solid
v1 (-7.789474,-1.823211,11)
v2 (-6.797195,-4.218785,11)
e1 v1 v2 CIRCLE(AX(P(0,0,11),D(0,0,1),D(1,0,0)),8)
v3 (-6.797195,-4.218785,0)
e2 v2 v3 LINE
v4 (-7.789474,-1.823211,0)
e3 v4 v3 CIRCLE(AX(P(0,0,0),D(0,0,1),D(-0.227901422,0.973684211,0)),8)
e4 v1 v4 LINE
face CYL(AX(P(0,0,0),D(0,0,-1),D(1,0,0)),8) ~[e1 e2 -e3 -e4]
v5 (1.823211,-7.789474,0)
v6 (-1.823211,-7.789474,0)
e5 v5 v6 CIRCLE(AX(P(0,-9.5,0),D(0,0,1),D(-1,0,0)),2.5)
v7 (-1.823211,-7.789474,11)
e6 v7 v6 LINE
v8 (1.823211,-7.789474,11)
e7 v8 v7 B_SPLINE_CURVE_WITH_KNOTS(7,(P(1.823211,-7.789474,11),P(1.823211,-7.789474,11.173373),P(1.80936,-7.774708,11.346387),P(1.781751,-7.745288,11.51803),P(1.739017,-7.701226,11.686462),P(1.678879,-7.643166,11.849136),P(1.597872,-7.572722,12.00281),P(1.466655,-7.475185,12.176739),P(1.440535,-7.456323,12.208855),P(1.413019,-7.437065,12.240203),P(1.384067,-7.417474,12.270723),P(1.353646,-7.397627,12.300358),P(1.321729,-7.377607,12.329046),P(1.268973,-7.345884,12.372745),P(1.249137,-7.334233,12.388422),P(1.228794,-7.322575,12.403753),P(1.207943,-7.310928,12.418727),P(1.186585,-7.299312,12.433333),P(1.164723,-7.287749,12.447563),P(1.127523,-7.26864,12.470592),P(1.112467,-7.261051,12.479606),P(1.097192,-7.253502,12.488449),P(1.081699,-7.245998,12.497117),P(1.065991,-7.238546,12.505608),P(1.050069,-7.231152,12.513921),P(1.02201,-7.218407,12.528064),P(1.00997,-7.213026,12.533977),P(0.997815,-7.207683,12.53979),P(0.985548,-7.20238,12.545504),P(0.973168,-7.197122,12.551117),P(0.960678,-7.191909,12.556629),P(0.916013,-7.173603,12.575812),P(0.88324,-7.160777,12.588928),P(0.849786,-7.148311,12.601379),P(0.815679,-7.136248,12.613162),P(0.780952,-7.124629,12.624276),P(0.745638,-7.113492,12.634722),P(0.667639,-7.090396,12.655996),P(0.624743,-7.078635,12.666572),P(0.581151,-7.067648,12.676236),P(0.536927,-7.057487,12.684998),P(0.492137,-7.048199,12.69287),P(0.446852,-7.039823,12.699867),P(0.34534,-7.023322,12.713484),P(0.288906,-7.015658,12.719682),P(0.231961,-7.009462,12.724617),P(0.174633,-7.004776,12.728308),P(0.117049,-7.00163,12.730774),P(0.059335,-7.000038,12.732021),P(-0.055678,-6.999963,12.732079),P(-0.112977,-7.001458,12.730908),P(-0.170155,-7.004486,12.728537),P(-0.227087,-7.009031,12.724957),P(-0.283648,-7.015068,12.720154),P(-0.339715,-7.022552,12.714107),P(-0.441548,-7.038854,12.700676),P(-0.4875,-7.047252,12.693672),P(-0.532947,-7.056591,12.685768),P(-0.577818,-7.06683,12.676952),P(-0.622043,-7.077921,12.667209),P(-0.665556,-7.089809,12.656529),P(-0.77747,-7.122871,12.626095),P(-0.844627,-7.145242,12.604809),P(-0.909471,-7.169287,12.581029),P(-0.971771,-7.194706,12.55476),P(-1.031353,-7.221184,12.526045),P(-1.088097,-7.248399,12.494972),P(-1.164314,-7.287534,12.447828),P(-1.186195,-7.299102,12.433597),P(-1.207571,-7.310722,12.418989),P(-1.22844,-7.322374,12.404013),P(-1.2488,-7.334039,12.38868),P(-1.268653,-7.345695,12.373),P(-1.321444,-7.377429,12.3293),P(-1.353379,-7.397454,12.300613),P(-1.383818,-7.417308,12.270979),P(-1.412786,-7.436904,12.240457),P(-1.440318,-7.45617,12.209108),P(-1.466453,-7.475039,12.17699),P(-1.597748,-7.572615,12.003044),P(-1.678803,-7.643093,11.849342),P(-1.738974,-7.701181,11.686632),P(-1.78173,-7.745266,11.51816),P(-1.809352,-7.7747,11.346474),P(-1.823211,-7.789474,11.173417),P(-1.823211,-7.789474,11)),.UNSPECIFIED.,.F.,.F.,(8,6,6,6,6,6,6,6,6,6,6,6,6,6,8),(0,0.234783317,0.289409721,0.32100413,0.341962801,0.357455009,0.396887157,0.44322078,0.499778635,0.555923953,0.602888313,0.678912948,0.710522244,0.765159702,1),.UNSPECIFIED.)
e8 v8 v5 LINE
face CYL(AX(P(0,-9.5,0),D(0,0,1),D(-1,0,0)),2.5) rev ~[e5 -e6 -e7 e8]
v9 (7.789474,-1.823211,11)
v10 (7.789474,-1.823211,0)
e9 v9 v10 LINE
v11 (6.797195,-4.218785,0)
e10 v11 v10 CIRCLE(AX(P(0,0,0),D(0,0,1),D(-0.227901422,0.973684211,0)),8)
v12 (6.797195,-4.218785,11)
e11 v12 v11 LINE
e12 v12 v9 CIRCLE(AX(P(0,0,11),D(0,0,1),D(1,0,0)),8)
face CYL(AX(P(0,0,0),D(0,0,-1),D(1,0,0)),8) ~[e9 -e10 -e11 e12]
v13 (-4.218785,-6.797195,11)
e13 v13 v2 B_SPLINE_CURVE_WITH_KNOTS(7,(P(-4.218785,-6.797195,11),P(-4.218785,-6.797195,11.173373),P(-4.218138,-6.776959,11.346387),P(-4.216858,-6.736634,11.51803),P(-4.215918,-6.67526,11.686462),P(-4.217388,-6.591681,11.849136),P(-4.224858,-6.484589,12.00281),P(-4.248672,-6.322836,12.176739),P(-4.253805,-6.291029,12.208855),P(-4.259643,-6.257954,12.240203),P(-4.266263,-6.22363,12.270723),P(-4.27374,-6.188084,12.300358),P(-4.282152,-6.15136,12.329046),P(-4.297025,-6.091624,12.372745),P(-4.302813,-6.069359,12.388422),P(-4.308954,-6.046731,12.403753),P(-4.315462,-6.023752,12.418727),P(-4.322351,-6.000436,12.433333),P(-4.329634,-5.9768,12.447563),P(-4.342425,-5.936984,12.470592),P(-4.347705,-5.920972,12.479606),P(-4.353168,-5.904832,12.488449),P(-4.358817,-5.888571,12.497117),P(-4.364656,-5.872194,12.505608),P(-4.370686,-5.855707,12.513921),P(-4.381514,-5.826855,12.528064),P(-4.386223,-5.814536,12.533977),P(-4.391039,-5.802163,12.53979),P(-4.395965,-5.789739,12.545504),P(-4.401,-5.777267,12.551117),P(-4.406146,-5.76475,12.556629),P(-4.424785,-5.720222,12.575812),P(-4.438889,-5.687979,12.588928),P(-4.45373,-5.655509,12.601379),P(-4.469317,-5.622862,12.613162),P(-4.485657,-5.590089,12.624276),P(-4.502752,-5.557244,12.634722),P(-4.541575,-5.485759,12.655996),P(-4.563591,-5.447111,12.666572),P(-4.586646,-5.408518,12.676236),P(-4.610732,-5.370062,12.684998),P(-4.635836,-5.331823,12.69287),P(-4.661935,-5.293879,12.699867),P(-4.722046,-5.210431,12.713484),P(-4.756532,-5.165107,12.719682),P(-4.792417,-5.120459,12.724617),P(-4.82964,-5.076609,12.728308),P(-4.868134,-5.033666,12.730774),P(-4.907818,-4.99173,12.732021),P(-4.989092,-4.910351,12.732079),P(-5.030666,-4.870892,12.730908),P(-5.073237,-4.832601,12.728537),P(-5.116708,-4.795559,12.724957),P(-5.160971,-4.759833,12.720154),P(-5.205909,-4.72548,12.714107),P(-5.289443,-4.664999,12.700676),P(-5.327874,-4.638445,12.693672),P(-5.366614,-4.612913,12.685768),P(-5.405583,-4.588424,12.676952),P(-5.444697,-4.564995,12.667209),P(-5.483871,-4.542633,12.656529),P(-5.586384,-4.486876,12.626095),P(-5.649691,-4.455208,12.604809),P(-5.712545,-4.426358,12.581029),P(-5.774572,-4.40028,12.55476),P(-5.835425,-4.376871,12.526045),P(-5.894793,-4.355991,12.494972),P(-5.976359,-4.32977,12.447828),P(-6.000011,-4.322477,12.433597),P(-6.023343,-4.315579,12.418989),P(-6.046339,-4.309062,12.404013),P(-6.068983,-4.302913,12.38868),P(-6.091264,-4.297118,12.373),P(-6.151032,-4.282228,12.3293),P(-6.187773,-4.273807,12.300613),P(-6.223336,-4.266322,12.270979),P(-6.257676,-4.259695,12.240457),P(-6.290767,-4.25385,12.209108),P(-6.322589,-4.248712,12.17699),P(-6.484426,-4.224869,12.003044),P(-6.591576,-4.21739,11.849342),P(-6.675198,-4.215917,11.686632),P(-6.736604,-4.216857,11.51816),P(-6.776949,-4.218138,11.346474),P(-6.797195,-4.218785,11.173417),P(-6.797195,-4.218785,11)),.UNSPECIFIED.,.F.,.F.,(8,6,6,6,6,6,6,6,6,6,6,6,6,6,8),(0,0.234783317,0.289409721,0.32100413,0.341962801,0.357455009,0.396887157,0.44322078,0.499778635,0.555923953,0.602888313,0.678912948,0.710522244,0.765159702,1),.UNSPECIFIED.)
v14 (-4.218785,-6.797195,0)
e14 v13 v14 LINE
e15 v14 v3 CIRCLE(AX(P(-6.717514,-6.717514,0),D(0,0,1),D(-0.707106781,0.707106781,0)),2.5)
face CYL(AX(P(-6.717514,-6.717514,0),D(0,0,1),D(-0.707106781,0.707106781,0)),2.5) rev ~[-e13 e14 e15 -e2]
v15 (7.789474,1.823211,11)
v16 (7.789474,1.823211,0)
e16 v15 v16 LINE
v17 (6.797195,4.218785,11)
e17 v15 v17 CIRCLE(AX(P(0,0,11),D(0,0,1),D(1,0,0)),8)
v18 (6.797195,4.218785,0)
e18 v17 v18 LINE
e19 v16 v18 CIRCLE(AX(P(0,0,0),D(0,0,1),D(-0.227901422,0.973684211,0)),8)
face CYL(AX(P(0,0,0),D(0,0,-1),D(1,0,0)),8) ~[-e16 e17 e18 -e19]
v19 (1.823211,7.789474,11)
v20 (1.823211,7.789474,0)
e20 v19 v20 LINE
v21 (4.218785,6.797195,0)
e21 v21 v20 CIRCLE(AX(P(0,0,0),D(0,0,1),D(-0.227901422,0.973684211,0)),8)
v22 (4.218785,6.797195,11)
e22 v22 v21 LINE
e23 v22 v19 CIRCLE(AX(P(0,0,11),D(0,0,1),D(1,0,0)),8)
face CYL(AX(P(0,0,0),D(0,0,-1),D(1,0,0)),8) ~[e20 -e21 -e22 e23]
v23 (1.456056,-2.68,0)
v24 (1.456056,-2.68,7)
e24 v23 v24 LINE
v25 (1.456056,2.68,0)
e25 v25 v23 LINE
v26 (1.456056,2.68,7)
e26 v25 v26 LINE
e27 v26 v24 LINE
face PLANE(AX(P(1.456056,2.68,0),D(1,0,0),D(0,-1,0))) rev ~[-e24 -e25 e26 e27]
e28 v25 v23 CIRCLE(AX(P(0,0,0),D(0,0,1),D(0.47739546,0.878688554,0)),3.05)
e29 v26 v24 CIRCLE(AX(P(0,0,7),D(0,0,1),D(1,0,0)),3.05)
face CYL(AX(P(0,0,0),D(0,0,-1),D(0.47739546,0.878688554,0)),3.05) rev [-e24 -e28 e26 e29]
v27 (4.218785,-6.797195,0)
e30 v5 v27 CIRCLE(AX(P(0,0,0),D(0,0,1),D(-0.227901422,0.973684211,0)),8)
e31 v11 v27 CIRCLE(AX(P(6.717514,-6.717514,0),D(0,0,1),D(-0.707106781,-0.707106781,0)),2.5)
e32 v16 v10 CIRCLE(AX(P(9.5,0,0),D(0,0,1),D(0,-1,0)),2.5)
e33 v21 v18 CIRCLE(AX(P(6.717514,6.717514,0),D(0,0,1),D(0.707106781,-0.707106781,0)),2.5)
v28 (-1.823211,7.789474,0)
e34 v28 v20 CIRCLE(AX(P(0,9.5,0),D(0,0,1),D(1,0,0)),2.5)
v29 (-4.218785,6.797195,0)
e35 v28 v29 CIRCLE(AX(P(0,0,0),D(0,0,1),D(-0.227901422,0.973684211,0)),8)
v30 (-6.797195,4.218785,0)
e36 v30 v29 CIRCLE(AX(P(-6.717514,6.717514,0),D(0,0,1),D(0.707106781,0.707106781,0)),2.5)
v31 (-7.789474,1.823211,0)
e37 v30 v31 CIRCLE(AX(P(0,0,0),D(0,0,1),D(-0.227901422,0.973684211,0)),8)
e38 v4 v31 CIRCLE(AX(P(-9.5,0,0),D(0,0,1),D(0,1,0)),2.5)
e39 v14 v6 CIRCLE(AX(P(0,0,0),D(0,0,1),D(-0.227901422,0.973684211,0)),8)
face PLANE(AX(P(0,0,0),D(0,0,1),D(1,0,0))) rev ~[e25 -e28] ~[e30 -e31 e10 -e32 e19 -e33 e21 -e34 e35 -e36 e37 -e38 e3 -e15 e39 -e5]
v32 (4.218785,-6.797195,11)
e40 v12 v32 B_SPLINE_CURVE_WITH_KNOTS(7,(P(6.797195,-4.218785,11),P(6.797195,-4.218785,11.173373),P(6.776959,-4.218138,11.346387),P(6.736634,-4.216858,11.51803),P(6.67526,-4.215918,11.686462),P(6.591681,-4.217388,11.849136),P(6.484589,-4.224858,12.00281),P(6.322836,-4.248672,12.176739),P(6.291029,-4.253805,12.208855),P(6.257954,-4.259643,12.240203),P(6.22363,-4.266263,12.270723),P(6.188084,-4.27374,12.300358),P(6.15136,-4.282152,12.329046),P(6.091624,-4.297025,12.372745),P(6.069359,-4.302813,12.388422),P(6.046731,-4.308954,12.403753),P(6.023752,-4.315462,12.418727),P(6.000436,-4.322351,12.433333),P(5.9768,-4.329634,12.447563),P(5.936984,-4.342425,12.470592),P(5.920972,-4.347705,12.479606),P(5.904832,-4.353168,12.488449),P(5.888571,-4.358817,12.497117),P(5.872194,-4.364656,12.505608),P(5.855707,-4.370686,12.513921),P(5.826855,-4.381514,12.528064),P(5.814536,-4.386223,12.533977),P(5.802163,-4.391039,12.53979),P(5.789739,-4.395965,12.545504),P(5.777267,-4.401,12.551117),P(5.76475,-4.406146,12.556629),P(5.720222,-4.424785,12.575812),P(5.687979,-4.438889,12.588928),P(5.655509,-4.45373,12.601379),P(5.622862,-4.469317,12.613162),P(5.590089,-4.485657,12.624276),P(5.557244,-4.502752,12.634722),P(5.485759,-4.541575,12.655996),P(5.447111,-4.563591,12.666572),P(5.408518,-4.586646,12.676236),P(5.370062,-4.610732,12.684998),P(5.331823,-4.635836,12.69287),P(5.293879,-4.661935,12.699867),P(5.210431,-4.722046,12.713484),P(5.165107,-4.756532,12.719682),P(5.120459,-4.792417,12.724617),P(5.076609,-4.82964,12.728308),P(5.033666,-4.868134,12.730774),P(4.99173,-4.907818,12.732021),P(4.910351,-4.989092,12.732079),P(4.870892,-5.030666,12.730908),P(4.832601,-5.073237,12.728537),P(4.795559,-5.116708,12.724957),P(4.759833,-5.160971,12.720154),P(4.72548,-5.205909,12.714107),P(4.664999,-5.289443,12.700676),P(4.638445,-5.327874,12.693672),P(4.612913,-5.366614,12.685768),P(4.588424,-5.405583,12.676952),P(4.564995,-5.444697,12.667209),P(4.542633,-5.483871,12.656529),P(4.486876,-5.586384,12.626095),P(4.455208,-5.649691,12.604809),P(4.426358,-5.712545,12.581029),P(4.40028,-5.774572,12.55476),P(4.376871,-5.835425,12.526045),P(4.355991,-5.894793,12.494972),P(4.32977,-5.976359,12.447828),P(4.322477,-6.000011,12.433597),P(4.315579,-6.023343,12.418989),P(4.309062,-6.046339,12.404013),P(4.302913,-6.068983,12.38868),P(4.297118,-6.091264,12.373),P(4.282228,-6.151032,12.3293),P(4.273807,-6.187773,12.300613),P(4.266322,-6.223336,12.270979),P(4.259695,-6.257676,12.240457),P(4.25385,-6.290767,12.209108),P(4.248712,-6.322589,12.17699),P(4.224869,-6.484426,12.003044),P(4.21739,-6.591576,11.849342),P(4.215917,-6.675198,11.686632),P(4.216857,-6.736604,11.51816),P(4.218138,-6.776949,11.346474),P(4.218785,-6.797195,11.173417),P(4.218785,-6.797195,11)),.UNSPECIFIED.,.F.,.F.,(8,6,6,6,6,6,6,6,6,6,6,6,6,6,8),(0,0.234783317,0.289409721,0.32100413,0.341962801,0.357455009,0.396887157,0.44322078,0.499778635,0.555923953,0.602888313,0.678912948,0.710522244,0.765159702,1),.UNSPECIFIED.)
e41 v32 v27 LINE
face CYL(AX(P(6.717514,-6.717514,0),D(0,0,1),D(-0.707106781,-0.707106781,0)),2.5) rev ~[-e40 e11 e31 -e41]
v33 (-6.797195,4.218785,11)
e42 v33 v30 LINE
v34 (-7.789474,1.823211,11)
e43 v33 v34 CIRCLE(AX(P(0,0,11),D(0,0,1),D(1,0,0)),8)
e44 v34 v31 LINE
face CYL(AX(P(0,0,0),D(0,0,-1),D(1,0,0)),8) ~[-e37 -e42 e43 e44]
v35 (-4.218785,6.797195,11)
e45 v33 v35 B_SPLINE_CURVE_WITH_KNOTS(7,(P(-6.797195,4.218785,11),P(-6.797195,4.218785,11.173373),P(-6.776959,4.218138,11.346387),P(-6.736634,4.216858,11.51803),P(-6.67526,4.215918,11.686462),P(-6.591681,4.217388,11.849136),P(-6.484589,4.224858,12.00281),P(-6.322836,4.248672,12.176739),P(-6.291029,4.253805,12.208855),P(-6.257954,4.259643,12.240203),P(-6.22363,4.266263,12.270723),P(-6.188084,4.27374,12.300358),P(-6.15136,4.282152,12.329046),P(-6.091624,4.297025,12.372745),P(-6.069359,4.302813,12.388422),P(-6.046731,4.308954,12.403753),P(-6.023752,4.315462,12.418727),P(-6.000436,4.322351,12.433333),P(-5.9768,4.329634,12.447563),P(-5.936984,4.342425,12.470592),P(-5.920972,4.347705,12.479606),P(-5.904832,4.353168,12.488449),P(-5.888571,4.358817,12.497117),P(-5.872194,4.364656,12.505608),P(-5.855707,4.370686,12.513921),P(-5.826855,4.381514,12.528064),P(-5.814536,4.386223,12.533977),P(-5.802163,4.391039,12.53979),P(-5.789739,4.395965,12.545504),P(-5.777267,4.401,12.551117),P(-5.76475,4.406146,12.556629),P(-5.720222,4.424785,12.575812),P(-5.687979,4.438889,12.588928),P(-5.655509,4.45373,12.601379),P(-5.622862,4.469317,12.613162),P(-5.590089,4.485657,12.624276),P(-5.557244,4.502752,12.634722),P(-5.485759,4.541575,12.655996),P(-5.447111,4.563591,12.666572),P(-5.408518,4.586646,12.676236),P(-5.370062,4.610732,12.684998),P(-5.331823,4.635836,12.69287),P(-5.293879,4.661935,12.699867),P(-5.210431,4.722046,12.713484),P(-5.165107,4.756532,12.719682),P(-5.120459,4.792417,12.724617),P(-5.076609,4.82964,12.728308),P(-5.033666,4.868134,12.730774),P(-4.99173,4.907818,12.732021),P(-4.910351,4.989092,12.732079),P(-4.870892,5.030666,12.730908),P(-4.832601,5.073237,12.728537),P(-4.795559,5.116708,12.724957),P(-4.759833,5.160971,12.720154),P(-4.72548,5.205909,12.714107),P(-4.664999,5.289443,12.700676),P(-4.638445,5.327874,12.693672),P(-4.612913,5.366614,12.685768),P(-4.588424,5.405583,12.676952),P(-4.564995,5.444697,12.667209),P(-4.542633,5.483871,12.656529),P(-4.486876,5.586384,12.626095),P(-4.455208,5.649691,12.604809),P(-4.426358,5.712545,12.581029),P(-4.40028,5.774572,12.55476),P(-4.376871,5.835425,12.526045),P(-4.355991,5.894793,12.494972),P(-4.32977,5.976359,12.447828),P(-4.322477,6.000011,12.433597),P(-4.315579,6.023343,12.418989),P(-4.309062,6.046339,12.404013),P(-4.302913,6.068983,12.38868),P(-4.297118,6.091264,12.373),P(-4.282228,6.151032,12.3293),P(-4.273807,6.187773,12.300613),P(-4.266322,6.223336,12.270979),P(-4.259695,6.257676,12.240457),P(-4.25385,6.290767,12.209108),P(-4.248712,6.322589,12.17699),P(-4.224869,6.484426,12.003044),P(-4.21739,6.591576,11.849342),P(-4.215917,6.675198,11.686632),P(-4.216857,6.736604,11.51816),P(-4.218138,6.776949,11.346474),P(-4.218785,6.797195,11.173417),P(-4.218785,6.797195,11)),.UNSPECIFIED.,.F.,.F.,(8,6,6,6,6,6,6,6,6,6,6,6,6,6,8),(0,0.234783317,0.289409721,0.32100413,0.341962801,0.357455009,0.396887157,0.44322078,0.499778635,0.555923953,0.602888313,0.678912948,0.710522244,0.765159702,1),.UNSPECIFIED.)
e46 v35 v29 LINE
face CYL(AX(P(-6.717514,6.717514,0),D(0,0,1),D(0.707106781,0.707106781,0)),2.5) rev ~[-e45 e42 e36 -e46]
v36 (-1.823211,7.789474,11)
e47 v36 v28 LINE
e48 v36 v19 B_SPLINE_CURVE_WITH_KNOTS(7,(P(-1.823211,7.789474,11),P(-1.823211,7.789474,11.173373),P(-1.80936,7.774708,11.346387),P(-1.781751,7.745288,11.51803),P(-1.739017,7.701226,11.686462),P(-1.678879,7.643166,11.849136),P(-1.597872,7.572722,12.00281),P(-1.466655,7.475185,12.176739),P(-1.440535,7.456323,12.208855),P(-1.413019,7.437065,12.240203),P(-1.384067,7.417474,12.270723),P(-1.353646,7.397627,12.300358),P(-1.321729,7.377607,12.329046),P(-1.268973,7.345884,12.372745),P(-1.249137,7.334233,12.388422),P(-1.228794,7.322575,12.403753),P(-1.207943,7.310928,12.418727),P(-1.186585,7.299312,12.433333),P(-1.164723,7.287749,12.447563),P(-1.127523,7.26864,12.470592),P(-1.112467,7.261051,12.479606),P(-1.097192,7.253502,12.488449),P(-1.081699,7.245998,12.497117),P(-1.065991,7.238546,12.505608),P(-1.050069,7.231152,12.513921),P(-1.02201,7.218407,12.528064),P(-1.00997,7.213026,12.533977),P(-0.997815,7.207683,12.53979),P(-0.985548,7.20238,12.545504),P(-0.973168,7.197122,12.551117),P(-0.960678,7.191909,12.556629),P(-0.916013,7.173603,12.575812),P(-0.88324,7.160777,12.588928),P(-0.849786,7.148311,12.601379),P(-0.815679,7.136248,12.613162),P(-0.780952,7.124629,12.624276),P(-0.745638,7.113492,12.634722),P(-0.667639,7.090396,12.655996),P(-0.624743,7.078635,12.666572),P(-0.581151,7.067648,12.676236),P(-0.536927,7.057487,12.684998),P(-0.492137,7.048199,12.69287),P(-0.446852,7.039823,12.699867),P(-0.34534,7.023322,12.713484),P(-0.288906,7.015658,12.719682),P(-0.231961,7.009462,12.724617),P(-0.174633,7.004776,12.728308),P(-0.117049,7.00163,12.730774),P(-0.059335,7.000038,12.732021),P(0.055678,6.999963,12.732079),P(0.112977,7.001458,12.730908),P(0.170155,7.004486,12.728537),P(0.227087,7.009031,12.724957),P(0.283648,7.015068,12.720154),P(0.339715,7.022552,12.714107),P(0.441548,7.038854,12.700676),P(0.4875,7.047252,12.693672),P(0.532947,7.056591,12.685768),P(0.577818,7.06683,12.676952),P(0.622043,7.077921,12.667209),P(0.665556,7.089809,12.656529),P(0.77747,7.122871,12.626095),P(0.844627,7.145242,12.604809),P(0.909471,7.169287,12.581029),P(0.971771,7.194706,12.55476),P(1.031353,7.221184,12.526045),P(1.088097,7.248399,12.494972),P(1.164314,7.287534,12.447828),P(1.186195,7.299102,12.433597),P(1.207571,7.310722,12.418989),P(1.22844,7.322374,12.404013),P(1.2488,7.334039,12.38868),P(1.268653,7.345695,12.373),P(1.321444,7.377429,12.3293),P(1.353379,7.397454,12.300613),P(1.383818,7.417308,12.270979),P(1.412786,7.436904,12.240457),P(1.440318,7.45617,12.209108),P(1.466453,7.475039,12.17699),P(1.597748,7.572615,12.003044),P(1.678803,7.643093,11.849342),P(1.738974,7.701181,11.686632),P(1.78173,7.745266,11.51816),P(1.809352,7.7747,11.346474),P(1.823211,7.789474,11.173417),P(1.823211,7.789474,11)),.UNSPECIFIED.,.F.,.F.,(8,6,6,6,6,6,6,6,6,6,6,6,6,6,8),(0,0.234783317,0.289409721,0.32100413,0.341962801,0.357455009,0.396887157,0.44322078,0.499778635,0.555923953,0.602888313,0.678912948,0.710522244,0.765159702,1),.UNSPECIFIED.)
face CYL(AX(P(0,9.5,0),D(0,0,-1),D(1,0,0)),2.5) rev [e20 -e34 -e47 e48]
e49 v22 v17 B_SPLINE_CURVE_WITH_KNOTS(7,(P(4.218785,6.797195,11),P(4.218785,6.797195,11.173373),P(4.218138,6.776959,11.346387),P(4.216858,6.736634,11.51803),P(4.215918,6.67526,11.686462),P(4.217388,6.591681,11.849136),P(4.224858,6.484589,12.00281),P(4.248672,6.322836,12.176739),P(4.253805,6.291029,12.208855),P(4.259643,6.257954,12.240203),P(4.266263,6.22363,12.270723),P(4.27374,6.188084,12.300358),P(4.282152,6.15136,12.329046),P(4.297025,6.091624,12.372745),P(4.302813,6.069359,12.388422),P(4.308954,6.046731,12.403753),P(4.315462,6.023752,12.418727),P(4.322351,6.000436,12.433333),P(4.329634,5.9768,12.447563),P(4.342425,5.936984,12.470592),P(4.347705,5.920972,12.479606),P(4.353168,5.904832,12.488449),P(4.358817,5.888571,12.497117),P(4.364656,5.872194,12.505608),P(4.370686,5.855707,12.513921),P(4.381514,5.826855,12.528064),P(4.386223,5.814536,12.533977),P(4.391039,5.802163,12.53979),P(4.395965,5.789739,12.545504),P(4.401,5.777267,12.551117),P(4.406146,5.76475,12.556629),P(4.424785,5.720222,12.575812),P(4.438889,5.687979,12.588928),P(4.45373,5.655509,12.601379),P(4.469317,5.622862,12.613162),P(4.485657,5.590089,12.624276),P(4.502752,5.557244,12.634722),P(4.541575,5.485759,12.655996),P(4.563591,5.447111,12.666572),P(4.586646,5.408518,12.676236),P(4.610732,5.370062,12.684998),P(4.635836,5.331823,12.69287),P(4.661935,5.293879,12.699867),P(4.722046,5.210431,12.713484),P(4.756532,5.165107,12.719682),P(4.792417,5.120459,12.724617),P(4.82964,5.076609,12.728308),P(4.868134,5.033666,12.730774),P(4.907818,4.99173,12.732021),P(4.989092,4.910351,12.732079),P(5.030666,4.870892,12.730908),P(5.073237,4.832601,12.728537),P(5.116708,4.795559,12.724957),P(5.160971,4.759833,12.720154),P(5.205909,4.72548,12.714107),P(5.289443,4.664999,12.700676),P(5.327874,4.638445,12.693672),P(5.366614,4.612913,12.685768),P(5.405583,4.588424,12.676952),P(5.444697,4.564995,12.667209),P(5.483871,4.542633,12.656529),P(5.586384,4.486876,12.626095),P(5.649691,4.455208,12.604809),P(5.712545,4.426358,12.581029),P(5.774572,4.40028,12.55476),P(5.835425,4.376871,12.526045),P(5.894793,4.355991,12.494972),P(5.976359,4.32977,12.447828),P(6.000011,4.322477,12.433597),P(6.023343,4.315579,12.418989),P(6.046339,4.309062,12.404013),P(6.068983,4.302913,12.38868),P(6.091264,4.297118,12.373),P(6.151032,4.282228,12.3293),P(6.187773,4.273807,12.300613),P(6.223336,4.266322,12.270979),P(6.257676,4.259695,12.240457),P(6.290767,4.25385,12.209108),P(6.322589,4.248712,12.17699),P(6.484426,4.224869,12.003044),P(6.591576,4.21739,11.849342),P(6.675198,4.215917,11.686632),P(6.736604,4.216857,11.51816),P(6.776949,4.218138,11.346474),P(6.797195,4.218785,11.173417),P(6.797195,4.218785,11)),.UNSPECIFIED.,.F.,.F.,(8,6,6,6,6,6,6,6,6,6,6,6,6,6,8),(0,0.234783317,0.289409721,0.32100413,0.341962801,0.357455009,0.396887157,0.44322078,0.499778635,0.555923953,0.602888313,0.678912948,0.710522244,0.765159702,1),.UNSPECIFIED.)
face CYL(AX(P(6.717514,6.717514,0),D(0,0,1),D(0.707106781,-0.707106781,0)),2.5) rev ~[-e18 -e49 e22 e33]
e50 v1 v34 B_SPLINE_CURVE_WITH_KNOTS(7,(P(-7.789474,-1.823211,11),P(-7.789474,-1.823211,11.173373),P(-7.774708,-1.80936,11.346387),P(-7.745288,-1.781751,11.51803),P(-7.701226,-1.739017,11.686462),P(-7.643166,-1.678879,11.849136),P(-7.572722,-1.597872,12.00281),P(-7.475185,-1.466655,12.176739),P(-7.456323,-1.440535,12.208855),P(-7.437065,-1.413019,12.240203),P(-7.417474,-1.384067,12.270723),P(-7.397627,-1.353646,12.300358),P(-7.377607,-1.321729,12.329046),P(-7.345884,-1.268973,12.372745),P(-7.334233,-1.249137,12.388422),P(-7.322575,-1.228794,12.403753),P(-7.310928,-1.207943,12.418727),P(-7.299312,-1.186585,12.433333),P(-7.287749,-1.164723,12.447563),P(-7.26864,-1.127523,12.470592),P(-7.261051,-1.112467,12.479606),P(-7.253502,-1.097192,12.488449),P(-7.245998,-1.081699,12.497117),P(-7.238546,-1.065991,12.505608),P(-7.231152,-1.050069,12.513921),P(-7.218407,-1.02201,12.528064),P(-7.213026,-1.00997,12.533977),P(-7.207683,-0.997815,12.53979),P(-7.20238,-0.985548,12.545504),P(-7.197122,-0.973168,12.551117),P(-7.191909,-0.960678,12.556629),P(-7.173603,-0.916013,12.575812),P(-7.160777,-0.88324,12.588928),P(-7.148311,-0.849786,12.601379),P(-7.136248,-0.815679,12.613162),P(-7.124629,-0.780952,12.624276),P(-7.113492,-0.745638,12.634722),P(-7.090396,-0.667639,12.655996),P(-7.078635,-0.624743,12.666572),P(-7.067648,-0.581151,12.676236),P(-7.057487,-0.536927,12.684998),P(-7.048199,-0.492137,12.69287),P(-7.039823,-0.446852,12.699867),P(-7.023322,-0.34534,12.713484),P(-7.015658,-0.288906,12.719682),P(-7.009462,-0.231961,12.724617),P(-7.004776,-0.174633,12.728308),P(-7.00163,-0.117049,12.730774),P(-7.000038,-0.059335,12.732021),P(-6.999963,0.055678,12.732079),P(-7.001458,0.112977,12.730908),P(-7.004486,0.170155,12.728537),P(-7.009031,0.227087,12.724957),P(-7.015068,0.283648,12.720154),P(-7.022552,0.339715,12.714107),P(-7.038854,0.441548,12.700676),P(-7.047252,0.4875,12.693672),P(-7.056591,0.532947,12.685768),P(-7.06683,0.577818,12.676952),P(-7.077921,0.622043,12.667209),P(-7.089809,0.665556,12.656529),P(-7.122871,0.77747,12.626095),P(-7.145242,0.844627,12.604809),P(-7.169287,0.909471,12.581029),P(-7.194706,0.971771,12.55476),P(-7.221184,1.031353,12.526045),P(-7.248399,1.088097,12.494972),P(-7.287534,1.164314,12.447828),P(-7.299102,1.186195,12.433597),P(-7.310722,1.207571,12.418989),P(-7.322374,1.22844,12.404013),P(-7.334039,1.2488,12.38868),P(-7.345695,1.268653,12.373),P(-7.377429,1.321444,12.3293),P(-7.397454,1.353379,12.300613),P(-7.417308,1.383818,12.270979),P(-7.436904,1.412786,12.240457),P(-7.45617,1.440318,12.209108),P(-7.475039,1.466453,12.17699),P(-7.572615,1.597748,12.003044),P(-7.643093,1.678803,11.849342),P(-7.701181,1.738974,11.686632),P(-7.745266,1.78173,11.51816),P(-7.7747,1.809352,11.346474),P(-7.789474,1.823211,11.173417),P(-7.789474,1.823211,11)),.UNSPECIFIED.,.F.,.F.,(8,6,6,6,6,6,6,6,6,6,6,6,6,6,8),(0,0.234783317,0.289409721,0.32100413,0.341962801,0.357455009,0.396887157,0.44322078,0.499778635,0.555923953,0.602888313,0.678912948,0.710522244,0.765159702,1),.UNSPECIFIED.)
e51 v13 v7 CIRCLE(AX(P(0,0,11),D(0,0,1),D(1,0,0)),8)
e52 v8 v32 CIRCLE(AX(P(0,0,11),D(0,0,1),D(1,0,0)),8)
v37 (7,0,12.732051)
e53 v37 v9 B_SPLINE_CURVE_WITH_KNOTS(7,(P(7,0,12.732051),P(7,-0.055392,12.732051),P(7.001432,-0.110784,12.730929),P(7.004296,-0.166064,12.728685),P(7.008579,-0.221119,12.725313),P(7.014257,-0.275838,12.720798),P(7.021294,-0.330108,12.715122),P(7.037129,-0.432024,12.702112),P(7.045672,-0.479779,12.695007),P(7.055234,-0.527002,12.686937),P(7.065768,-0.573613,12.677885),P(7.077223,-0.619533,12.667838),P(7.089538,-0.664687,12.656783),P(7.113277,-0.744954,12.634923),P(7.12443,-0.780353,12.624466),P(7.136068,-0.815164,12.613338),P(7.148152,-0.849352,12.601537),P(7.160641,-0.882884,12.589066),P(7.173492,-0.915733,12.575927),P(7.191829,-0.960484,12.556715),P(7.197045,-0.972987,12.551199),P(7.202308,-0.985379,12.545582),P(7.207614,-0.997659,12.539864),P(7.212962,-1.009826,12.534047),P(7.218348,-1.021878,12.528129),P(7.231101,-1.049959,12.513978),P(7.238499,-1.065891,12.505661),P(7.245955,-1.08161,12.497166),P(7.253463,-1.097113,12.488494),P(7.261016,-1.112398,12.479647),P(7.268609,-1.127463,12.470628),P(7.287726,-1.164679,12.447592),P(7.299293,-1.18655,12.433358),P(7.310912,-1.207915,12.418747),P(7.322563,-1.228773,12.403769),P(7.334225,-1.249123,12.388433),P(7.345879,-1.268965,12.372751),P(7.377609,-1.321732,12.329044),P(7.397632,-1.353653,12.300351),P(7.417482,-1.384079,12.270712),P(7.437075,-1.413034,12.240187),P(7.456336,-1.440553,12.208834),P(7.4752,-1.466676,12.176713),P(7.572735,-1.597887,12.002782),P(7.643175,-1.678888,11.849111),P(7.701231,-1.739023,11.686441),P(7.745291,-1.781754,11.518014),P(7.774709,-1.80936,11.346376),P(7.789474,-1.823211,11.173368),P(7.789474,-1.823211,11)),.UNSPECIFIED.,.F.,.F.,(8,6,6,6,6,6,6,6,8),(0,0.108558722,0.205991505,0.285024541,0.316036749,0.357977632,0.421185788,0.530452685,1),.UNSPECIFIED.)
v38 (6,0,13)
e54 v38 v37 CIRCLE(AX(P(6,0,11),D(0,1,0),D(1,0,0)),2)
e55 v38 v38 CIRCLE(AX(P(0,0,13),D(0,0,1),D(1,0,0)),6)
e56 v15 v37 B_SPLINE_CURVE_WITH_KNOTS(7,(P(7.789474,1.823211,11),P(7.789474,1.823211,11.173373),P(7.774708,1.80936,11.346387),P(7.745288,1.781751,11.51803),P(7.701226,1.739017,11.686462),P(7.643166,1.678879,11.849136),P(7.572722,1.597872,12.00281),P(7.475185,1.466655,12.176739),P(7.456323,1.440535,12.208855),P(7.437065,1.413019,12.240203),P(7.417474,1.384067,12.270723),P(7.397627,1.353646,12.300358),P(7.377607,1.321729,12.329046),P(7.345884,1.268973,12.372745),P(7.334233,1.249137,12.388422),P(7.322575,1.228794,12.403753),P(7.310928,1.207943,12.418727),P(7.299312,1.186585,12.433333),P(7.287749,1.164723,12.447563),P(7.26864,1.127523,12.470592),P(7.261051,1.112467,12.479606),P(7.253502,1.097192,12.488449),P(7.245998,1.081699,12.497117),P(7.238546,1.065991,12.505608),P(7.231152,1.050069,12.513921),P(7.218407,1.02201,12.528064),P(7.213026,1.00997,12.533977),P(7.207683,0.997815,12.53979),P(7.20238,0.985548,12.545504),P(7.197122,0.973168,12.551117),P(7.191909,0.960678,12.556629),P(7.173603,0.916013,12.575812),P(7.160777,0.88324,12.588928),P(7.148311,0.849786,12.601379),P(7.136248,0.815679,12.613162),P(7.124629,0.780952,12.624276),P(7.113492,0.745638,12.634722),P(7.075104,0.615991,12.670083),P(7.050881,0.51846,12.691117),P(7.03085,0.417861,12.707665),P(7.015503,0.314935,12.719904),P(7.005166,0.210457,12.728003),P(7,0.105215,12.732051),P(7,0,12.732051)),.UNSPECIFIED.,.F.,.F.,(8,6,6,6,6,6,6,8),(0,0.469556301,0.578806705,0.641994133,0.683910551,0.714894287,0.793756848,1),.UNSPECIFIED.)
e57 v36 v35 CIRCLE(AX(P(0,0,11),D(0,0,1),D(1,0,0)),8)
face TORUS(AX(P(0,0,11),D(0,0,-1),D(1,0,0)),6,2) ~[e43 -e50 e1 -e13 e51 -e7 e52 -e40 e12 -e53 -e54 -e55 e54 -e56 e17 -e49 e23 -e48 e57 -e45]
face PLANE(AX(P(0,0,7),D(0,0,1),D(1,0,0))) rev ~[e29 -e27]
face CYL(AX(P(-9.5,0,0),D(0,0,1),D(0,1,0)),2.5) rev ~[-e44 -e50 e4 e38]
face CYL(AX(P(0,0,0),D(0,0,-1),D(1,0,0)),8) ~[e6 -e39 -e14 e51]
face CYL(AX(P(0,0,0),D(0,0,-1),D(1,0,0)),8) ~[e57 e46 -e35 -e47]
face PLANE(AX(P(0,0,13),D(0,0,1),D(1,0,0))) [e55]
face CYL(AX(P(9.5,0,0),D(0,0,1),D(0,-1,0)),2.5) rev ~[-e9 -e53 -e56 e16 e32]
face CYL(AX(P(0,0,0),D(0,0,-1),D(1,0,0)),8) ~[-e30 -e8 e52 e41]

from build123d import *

# Parameters (mm, degrees)
SKETCH_R           = 8
PAD_DEPTH          = 13
SKETCH001_R        = 3.05
PAD001_DEPTH       = 6
FILLET_R           = 2
SKETCH002_R        = 2.5
POCKET_DEPTH       = 52.192953
POCKET_DEPTH_BACK  = 65.192953
POLARPATTERN_COUNT = 8


with BuildPart() as part:
    # Sketch → Pad (new body)
    with BuildSketch(Plane.XY):
        Circle(SKETCH_R)
        with BuildLine():
            ThreePointArc((1.456056, 2.68), (-3.05, 0), (1.456056, -2.68))
            Line((1.456056, 2.68), (1.456056, -2.68))
        make_face(mode=Mode.SUBTRACT)
    extrude(amount=PAD_DEPTH)

    # Sketch001 (on Face5 of Pad) → Pad001 (join)
    with BuildSketch(Plane.XY.offset(13)):
        Circle(SKETCH001_R)
    extrude(amount=-PAD001_DEPTH)

    # Fillet
    fillet_edges = [part.edges().sort_by_distance(p)[0] for p in [
        (-8, 0, 13),
    ]]
    fillet(fillet_edges, radius=FILLET_R)

    # Sketch002 → Pocket (cut, two sides)
    with BuildSketch(Plane.XY) as pocket_sk:
        with Locations((0, 9.5)):
            Circle(SKETCH002_R)
    pocket = extrude(amount=-POCKET_DEPTH, mode=Mode.SUBTRACT) + extrude(pocket_sk.sketch, amount=POCKET_DEPTH_BACK, mode=Mode.SUBTRACT)

    # PolarPattern: Pocket ×8 about axis
    polarpattern_axis = Axis((0, 0, 0), (0, 0, 1))
    for i in range(1, POLARPATTERN_COUNT):
        add(pocket.rotate(polarpattern_axis, i * 360 / POLARPATTERN_COUNT), mode=Mode.SUBTRACT)


solid = part.part
